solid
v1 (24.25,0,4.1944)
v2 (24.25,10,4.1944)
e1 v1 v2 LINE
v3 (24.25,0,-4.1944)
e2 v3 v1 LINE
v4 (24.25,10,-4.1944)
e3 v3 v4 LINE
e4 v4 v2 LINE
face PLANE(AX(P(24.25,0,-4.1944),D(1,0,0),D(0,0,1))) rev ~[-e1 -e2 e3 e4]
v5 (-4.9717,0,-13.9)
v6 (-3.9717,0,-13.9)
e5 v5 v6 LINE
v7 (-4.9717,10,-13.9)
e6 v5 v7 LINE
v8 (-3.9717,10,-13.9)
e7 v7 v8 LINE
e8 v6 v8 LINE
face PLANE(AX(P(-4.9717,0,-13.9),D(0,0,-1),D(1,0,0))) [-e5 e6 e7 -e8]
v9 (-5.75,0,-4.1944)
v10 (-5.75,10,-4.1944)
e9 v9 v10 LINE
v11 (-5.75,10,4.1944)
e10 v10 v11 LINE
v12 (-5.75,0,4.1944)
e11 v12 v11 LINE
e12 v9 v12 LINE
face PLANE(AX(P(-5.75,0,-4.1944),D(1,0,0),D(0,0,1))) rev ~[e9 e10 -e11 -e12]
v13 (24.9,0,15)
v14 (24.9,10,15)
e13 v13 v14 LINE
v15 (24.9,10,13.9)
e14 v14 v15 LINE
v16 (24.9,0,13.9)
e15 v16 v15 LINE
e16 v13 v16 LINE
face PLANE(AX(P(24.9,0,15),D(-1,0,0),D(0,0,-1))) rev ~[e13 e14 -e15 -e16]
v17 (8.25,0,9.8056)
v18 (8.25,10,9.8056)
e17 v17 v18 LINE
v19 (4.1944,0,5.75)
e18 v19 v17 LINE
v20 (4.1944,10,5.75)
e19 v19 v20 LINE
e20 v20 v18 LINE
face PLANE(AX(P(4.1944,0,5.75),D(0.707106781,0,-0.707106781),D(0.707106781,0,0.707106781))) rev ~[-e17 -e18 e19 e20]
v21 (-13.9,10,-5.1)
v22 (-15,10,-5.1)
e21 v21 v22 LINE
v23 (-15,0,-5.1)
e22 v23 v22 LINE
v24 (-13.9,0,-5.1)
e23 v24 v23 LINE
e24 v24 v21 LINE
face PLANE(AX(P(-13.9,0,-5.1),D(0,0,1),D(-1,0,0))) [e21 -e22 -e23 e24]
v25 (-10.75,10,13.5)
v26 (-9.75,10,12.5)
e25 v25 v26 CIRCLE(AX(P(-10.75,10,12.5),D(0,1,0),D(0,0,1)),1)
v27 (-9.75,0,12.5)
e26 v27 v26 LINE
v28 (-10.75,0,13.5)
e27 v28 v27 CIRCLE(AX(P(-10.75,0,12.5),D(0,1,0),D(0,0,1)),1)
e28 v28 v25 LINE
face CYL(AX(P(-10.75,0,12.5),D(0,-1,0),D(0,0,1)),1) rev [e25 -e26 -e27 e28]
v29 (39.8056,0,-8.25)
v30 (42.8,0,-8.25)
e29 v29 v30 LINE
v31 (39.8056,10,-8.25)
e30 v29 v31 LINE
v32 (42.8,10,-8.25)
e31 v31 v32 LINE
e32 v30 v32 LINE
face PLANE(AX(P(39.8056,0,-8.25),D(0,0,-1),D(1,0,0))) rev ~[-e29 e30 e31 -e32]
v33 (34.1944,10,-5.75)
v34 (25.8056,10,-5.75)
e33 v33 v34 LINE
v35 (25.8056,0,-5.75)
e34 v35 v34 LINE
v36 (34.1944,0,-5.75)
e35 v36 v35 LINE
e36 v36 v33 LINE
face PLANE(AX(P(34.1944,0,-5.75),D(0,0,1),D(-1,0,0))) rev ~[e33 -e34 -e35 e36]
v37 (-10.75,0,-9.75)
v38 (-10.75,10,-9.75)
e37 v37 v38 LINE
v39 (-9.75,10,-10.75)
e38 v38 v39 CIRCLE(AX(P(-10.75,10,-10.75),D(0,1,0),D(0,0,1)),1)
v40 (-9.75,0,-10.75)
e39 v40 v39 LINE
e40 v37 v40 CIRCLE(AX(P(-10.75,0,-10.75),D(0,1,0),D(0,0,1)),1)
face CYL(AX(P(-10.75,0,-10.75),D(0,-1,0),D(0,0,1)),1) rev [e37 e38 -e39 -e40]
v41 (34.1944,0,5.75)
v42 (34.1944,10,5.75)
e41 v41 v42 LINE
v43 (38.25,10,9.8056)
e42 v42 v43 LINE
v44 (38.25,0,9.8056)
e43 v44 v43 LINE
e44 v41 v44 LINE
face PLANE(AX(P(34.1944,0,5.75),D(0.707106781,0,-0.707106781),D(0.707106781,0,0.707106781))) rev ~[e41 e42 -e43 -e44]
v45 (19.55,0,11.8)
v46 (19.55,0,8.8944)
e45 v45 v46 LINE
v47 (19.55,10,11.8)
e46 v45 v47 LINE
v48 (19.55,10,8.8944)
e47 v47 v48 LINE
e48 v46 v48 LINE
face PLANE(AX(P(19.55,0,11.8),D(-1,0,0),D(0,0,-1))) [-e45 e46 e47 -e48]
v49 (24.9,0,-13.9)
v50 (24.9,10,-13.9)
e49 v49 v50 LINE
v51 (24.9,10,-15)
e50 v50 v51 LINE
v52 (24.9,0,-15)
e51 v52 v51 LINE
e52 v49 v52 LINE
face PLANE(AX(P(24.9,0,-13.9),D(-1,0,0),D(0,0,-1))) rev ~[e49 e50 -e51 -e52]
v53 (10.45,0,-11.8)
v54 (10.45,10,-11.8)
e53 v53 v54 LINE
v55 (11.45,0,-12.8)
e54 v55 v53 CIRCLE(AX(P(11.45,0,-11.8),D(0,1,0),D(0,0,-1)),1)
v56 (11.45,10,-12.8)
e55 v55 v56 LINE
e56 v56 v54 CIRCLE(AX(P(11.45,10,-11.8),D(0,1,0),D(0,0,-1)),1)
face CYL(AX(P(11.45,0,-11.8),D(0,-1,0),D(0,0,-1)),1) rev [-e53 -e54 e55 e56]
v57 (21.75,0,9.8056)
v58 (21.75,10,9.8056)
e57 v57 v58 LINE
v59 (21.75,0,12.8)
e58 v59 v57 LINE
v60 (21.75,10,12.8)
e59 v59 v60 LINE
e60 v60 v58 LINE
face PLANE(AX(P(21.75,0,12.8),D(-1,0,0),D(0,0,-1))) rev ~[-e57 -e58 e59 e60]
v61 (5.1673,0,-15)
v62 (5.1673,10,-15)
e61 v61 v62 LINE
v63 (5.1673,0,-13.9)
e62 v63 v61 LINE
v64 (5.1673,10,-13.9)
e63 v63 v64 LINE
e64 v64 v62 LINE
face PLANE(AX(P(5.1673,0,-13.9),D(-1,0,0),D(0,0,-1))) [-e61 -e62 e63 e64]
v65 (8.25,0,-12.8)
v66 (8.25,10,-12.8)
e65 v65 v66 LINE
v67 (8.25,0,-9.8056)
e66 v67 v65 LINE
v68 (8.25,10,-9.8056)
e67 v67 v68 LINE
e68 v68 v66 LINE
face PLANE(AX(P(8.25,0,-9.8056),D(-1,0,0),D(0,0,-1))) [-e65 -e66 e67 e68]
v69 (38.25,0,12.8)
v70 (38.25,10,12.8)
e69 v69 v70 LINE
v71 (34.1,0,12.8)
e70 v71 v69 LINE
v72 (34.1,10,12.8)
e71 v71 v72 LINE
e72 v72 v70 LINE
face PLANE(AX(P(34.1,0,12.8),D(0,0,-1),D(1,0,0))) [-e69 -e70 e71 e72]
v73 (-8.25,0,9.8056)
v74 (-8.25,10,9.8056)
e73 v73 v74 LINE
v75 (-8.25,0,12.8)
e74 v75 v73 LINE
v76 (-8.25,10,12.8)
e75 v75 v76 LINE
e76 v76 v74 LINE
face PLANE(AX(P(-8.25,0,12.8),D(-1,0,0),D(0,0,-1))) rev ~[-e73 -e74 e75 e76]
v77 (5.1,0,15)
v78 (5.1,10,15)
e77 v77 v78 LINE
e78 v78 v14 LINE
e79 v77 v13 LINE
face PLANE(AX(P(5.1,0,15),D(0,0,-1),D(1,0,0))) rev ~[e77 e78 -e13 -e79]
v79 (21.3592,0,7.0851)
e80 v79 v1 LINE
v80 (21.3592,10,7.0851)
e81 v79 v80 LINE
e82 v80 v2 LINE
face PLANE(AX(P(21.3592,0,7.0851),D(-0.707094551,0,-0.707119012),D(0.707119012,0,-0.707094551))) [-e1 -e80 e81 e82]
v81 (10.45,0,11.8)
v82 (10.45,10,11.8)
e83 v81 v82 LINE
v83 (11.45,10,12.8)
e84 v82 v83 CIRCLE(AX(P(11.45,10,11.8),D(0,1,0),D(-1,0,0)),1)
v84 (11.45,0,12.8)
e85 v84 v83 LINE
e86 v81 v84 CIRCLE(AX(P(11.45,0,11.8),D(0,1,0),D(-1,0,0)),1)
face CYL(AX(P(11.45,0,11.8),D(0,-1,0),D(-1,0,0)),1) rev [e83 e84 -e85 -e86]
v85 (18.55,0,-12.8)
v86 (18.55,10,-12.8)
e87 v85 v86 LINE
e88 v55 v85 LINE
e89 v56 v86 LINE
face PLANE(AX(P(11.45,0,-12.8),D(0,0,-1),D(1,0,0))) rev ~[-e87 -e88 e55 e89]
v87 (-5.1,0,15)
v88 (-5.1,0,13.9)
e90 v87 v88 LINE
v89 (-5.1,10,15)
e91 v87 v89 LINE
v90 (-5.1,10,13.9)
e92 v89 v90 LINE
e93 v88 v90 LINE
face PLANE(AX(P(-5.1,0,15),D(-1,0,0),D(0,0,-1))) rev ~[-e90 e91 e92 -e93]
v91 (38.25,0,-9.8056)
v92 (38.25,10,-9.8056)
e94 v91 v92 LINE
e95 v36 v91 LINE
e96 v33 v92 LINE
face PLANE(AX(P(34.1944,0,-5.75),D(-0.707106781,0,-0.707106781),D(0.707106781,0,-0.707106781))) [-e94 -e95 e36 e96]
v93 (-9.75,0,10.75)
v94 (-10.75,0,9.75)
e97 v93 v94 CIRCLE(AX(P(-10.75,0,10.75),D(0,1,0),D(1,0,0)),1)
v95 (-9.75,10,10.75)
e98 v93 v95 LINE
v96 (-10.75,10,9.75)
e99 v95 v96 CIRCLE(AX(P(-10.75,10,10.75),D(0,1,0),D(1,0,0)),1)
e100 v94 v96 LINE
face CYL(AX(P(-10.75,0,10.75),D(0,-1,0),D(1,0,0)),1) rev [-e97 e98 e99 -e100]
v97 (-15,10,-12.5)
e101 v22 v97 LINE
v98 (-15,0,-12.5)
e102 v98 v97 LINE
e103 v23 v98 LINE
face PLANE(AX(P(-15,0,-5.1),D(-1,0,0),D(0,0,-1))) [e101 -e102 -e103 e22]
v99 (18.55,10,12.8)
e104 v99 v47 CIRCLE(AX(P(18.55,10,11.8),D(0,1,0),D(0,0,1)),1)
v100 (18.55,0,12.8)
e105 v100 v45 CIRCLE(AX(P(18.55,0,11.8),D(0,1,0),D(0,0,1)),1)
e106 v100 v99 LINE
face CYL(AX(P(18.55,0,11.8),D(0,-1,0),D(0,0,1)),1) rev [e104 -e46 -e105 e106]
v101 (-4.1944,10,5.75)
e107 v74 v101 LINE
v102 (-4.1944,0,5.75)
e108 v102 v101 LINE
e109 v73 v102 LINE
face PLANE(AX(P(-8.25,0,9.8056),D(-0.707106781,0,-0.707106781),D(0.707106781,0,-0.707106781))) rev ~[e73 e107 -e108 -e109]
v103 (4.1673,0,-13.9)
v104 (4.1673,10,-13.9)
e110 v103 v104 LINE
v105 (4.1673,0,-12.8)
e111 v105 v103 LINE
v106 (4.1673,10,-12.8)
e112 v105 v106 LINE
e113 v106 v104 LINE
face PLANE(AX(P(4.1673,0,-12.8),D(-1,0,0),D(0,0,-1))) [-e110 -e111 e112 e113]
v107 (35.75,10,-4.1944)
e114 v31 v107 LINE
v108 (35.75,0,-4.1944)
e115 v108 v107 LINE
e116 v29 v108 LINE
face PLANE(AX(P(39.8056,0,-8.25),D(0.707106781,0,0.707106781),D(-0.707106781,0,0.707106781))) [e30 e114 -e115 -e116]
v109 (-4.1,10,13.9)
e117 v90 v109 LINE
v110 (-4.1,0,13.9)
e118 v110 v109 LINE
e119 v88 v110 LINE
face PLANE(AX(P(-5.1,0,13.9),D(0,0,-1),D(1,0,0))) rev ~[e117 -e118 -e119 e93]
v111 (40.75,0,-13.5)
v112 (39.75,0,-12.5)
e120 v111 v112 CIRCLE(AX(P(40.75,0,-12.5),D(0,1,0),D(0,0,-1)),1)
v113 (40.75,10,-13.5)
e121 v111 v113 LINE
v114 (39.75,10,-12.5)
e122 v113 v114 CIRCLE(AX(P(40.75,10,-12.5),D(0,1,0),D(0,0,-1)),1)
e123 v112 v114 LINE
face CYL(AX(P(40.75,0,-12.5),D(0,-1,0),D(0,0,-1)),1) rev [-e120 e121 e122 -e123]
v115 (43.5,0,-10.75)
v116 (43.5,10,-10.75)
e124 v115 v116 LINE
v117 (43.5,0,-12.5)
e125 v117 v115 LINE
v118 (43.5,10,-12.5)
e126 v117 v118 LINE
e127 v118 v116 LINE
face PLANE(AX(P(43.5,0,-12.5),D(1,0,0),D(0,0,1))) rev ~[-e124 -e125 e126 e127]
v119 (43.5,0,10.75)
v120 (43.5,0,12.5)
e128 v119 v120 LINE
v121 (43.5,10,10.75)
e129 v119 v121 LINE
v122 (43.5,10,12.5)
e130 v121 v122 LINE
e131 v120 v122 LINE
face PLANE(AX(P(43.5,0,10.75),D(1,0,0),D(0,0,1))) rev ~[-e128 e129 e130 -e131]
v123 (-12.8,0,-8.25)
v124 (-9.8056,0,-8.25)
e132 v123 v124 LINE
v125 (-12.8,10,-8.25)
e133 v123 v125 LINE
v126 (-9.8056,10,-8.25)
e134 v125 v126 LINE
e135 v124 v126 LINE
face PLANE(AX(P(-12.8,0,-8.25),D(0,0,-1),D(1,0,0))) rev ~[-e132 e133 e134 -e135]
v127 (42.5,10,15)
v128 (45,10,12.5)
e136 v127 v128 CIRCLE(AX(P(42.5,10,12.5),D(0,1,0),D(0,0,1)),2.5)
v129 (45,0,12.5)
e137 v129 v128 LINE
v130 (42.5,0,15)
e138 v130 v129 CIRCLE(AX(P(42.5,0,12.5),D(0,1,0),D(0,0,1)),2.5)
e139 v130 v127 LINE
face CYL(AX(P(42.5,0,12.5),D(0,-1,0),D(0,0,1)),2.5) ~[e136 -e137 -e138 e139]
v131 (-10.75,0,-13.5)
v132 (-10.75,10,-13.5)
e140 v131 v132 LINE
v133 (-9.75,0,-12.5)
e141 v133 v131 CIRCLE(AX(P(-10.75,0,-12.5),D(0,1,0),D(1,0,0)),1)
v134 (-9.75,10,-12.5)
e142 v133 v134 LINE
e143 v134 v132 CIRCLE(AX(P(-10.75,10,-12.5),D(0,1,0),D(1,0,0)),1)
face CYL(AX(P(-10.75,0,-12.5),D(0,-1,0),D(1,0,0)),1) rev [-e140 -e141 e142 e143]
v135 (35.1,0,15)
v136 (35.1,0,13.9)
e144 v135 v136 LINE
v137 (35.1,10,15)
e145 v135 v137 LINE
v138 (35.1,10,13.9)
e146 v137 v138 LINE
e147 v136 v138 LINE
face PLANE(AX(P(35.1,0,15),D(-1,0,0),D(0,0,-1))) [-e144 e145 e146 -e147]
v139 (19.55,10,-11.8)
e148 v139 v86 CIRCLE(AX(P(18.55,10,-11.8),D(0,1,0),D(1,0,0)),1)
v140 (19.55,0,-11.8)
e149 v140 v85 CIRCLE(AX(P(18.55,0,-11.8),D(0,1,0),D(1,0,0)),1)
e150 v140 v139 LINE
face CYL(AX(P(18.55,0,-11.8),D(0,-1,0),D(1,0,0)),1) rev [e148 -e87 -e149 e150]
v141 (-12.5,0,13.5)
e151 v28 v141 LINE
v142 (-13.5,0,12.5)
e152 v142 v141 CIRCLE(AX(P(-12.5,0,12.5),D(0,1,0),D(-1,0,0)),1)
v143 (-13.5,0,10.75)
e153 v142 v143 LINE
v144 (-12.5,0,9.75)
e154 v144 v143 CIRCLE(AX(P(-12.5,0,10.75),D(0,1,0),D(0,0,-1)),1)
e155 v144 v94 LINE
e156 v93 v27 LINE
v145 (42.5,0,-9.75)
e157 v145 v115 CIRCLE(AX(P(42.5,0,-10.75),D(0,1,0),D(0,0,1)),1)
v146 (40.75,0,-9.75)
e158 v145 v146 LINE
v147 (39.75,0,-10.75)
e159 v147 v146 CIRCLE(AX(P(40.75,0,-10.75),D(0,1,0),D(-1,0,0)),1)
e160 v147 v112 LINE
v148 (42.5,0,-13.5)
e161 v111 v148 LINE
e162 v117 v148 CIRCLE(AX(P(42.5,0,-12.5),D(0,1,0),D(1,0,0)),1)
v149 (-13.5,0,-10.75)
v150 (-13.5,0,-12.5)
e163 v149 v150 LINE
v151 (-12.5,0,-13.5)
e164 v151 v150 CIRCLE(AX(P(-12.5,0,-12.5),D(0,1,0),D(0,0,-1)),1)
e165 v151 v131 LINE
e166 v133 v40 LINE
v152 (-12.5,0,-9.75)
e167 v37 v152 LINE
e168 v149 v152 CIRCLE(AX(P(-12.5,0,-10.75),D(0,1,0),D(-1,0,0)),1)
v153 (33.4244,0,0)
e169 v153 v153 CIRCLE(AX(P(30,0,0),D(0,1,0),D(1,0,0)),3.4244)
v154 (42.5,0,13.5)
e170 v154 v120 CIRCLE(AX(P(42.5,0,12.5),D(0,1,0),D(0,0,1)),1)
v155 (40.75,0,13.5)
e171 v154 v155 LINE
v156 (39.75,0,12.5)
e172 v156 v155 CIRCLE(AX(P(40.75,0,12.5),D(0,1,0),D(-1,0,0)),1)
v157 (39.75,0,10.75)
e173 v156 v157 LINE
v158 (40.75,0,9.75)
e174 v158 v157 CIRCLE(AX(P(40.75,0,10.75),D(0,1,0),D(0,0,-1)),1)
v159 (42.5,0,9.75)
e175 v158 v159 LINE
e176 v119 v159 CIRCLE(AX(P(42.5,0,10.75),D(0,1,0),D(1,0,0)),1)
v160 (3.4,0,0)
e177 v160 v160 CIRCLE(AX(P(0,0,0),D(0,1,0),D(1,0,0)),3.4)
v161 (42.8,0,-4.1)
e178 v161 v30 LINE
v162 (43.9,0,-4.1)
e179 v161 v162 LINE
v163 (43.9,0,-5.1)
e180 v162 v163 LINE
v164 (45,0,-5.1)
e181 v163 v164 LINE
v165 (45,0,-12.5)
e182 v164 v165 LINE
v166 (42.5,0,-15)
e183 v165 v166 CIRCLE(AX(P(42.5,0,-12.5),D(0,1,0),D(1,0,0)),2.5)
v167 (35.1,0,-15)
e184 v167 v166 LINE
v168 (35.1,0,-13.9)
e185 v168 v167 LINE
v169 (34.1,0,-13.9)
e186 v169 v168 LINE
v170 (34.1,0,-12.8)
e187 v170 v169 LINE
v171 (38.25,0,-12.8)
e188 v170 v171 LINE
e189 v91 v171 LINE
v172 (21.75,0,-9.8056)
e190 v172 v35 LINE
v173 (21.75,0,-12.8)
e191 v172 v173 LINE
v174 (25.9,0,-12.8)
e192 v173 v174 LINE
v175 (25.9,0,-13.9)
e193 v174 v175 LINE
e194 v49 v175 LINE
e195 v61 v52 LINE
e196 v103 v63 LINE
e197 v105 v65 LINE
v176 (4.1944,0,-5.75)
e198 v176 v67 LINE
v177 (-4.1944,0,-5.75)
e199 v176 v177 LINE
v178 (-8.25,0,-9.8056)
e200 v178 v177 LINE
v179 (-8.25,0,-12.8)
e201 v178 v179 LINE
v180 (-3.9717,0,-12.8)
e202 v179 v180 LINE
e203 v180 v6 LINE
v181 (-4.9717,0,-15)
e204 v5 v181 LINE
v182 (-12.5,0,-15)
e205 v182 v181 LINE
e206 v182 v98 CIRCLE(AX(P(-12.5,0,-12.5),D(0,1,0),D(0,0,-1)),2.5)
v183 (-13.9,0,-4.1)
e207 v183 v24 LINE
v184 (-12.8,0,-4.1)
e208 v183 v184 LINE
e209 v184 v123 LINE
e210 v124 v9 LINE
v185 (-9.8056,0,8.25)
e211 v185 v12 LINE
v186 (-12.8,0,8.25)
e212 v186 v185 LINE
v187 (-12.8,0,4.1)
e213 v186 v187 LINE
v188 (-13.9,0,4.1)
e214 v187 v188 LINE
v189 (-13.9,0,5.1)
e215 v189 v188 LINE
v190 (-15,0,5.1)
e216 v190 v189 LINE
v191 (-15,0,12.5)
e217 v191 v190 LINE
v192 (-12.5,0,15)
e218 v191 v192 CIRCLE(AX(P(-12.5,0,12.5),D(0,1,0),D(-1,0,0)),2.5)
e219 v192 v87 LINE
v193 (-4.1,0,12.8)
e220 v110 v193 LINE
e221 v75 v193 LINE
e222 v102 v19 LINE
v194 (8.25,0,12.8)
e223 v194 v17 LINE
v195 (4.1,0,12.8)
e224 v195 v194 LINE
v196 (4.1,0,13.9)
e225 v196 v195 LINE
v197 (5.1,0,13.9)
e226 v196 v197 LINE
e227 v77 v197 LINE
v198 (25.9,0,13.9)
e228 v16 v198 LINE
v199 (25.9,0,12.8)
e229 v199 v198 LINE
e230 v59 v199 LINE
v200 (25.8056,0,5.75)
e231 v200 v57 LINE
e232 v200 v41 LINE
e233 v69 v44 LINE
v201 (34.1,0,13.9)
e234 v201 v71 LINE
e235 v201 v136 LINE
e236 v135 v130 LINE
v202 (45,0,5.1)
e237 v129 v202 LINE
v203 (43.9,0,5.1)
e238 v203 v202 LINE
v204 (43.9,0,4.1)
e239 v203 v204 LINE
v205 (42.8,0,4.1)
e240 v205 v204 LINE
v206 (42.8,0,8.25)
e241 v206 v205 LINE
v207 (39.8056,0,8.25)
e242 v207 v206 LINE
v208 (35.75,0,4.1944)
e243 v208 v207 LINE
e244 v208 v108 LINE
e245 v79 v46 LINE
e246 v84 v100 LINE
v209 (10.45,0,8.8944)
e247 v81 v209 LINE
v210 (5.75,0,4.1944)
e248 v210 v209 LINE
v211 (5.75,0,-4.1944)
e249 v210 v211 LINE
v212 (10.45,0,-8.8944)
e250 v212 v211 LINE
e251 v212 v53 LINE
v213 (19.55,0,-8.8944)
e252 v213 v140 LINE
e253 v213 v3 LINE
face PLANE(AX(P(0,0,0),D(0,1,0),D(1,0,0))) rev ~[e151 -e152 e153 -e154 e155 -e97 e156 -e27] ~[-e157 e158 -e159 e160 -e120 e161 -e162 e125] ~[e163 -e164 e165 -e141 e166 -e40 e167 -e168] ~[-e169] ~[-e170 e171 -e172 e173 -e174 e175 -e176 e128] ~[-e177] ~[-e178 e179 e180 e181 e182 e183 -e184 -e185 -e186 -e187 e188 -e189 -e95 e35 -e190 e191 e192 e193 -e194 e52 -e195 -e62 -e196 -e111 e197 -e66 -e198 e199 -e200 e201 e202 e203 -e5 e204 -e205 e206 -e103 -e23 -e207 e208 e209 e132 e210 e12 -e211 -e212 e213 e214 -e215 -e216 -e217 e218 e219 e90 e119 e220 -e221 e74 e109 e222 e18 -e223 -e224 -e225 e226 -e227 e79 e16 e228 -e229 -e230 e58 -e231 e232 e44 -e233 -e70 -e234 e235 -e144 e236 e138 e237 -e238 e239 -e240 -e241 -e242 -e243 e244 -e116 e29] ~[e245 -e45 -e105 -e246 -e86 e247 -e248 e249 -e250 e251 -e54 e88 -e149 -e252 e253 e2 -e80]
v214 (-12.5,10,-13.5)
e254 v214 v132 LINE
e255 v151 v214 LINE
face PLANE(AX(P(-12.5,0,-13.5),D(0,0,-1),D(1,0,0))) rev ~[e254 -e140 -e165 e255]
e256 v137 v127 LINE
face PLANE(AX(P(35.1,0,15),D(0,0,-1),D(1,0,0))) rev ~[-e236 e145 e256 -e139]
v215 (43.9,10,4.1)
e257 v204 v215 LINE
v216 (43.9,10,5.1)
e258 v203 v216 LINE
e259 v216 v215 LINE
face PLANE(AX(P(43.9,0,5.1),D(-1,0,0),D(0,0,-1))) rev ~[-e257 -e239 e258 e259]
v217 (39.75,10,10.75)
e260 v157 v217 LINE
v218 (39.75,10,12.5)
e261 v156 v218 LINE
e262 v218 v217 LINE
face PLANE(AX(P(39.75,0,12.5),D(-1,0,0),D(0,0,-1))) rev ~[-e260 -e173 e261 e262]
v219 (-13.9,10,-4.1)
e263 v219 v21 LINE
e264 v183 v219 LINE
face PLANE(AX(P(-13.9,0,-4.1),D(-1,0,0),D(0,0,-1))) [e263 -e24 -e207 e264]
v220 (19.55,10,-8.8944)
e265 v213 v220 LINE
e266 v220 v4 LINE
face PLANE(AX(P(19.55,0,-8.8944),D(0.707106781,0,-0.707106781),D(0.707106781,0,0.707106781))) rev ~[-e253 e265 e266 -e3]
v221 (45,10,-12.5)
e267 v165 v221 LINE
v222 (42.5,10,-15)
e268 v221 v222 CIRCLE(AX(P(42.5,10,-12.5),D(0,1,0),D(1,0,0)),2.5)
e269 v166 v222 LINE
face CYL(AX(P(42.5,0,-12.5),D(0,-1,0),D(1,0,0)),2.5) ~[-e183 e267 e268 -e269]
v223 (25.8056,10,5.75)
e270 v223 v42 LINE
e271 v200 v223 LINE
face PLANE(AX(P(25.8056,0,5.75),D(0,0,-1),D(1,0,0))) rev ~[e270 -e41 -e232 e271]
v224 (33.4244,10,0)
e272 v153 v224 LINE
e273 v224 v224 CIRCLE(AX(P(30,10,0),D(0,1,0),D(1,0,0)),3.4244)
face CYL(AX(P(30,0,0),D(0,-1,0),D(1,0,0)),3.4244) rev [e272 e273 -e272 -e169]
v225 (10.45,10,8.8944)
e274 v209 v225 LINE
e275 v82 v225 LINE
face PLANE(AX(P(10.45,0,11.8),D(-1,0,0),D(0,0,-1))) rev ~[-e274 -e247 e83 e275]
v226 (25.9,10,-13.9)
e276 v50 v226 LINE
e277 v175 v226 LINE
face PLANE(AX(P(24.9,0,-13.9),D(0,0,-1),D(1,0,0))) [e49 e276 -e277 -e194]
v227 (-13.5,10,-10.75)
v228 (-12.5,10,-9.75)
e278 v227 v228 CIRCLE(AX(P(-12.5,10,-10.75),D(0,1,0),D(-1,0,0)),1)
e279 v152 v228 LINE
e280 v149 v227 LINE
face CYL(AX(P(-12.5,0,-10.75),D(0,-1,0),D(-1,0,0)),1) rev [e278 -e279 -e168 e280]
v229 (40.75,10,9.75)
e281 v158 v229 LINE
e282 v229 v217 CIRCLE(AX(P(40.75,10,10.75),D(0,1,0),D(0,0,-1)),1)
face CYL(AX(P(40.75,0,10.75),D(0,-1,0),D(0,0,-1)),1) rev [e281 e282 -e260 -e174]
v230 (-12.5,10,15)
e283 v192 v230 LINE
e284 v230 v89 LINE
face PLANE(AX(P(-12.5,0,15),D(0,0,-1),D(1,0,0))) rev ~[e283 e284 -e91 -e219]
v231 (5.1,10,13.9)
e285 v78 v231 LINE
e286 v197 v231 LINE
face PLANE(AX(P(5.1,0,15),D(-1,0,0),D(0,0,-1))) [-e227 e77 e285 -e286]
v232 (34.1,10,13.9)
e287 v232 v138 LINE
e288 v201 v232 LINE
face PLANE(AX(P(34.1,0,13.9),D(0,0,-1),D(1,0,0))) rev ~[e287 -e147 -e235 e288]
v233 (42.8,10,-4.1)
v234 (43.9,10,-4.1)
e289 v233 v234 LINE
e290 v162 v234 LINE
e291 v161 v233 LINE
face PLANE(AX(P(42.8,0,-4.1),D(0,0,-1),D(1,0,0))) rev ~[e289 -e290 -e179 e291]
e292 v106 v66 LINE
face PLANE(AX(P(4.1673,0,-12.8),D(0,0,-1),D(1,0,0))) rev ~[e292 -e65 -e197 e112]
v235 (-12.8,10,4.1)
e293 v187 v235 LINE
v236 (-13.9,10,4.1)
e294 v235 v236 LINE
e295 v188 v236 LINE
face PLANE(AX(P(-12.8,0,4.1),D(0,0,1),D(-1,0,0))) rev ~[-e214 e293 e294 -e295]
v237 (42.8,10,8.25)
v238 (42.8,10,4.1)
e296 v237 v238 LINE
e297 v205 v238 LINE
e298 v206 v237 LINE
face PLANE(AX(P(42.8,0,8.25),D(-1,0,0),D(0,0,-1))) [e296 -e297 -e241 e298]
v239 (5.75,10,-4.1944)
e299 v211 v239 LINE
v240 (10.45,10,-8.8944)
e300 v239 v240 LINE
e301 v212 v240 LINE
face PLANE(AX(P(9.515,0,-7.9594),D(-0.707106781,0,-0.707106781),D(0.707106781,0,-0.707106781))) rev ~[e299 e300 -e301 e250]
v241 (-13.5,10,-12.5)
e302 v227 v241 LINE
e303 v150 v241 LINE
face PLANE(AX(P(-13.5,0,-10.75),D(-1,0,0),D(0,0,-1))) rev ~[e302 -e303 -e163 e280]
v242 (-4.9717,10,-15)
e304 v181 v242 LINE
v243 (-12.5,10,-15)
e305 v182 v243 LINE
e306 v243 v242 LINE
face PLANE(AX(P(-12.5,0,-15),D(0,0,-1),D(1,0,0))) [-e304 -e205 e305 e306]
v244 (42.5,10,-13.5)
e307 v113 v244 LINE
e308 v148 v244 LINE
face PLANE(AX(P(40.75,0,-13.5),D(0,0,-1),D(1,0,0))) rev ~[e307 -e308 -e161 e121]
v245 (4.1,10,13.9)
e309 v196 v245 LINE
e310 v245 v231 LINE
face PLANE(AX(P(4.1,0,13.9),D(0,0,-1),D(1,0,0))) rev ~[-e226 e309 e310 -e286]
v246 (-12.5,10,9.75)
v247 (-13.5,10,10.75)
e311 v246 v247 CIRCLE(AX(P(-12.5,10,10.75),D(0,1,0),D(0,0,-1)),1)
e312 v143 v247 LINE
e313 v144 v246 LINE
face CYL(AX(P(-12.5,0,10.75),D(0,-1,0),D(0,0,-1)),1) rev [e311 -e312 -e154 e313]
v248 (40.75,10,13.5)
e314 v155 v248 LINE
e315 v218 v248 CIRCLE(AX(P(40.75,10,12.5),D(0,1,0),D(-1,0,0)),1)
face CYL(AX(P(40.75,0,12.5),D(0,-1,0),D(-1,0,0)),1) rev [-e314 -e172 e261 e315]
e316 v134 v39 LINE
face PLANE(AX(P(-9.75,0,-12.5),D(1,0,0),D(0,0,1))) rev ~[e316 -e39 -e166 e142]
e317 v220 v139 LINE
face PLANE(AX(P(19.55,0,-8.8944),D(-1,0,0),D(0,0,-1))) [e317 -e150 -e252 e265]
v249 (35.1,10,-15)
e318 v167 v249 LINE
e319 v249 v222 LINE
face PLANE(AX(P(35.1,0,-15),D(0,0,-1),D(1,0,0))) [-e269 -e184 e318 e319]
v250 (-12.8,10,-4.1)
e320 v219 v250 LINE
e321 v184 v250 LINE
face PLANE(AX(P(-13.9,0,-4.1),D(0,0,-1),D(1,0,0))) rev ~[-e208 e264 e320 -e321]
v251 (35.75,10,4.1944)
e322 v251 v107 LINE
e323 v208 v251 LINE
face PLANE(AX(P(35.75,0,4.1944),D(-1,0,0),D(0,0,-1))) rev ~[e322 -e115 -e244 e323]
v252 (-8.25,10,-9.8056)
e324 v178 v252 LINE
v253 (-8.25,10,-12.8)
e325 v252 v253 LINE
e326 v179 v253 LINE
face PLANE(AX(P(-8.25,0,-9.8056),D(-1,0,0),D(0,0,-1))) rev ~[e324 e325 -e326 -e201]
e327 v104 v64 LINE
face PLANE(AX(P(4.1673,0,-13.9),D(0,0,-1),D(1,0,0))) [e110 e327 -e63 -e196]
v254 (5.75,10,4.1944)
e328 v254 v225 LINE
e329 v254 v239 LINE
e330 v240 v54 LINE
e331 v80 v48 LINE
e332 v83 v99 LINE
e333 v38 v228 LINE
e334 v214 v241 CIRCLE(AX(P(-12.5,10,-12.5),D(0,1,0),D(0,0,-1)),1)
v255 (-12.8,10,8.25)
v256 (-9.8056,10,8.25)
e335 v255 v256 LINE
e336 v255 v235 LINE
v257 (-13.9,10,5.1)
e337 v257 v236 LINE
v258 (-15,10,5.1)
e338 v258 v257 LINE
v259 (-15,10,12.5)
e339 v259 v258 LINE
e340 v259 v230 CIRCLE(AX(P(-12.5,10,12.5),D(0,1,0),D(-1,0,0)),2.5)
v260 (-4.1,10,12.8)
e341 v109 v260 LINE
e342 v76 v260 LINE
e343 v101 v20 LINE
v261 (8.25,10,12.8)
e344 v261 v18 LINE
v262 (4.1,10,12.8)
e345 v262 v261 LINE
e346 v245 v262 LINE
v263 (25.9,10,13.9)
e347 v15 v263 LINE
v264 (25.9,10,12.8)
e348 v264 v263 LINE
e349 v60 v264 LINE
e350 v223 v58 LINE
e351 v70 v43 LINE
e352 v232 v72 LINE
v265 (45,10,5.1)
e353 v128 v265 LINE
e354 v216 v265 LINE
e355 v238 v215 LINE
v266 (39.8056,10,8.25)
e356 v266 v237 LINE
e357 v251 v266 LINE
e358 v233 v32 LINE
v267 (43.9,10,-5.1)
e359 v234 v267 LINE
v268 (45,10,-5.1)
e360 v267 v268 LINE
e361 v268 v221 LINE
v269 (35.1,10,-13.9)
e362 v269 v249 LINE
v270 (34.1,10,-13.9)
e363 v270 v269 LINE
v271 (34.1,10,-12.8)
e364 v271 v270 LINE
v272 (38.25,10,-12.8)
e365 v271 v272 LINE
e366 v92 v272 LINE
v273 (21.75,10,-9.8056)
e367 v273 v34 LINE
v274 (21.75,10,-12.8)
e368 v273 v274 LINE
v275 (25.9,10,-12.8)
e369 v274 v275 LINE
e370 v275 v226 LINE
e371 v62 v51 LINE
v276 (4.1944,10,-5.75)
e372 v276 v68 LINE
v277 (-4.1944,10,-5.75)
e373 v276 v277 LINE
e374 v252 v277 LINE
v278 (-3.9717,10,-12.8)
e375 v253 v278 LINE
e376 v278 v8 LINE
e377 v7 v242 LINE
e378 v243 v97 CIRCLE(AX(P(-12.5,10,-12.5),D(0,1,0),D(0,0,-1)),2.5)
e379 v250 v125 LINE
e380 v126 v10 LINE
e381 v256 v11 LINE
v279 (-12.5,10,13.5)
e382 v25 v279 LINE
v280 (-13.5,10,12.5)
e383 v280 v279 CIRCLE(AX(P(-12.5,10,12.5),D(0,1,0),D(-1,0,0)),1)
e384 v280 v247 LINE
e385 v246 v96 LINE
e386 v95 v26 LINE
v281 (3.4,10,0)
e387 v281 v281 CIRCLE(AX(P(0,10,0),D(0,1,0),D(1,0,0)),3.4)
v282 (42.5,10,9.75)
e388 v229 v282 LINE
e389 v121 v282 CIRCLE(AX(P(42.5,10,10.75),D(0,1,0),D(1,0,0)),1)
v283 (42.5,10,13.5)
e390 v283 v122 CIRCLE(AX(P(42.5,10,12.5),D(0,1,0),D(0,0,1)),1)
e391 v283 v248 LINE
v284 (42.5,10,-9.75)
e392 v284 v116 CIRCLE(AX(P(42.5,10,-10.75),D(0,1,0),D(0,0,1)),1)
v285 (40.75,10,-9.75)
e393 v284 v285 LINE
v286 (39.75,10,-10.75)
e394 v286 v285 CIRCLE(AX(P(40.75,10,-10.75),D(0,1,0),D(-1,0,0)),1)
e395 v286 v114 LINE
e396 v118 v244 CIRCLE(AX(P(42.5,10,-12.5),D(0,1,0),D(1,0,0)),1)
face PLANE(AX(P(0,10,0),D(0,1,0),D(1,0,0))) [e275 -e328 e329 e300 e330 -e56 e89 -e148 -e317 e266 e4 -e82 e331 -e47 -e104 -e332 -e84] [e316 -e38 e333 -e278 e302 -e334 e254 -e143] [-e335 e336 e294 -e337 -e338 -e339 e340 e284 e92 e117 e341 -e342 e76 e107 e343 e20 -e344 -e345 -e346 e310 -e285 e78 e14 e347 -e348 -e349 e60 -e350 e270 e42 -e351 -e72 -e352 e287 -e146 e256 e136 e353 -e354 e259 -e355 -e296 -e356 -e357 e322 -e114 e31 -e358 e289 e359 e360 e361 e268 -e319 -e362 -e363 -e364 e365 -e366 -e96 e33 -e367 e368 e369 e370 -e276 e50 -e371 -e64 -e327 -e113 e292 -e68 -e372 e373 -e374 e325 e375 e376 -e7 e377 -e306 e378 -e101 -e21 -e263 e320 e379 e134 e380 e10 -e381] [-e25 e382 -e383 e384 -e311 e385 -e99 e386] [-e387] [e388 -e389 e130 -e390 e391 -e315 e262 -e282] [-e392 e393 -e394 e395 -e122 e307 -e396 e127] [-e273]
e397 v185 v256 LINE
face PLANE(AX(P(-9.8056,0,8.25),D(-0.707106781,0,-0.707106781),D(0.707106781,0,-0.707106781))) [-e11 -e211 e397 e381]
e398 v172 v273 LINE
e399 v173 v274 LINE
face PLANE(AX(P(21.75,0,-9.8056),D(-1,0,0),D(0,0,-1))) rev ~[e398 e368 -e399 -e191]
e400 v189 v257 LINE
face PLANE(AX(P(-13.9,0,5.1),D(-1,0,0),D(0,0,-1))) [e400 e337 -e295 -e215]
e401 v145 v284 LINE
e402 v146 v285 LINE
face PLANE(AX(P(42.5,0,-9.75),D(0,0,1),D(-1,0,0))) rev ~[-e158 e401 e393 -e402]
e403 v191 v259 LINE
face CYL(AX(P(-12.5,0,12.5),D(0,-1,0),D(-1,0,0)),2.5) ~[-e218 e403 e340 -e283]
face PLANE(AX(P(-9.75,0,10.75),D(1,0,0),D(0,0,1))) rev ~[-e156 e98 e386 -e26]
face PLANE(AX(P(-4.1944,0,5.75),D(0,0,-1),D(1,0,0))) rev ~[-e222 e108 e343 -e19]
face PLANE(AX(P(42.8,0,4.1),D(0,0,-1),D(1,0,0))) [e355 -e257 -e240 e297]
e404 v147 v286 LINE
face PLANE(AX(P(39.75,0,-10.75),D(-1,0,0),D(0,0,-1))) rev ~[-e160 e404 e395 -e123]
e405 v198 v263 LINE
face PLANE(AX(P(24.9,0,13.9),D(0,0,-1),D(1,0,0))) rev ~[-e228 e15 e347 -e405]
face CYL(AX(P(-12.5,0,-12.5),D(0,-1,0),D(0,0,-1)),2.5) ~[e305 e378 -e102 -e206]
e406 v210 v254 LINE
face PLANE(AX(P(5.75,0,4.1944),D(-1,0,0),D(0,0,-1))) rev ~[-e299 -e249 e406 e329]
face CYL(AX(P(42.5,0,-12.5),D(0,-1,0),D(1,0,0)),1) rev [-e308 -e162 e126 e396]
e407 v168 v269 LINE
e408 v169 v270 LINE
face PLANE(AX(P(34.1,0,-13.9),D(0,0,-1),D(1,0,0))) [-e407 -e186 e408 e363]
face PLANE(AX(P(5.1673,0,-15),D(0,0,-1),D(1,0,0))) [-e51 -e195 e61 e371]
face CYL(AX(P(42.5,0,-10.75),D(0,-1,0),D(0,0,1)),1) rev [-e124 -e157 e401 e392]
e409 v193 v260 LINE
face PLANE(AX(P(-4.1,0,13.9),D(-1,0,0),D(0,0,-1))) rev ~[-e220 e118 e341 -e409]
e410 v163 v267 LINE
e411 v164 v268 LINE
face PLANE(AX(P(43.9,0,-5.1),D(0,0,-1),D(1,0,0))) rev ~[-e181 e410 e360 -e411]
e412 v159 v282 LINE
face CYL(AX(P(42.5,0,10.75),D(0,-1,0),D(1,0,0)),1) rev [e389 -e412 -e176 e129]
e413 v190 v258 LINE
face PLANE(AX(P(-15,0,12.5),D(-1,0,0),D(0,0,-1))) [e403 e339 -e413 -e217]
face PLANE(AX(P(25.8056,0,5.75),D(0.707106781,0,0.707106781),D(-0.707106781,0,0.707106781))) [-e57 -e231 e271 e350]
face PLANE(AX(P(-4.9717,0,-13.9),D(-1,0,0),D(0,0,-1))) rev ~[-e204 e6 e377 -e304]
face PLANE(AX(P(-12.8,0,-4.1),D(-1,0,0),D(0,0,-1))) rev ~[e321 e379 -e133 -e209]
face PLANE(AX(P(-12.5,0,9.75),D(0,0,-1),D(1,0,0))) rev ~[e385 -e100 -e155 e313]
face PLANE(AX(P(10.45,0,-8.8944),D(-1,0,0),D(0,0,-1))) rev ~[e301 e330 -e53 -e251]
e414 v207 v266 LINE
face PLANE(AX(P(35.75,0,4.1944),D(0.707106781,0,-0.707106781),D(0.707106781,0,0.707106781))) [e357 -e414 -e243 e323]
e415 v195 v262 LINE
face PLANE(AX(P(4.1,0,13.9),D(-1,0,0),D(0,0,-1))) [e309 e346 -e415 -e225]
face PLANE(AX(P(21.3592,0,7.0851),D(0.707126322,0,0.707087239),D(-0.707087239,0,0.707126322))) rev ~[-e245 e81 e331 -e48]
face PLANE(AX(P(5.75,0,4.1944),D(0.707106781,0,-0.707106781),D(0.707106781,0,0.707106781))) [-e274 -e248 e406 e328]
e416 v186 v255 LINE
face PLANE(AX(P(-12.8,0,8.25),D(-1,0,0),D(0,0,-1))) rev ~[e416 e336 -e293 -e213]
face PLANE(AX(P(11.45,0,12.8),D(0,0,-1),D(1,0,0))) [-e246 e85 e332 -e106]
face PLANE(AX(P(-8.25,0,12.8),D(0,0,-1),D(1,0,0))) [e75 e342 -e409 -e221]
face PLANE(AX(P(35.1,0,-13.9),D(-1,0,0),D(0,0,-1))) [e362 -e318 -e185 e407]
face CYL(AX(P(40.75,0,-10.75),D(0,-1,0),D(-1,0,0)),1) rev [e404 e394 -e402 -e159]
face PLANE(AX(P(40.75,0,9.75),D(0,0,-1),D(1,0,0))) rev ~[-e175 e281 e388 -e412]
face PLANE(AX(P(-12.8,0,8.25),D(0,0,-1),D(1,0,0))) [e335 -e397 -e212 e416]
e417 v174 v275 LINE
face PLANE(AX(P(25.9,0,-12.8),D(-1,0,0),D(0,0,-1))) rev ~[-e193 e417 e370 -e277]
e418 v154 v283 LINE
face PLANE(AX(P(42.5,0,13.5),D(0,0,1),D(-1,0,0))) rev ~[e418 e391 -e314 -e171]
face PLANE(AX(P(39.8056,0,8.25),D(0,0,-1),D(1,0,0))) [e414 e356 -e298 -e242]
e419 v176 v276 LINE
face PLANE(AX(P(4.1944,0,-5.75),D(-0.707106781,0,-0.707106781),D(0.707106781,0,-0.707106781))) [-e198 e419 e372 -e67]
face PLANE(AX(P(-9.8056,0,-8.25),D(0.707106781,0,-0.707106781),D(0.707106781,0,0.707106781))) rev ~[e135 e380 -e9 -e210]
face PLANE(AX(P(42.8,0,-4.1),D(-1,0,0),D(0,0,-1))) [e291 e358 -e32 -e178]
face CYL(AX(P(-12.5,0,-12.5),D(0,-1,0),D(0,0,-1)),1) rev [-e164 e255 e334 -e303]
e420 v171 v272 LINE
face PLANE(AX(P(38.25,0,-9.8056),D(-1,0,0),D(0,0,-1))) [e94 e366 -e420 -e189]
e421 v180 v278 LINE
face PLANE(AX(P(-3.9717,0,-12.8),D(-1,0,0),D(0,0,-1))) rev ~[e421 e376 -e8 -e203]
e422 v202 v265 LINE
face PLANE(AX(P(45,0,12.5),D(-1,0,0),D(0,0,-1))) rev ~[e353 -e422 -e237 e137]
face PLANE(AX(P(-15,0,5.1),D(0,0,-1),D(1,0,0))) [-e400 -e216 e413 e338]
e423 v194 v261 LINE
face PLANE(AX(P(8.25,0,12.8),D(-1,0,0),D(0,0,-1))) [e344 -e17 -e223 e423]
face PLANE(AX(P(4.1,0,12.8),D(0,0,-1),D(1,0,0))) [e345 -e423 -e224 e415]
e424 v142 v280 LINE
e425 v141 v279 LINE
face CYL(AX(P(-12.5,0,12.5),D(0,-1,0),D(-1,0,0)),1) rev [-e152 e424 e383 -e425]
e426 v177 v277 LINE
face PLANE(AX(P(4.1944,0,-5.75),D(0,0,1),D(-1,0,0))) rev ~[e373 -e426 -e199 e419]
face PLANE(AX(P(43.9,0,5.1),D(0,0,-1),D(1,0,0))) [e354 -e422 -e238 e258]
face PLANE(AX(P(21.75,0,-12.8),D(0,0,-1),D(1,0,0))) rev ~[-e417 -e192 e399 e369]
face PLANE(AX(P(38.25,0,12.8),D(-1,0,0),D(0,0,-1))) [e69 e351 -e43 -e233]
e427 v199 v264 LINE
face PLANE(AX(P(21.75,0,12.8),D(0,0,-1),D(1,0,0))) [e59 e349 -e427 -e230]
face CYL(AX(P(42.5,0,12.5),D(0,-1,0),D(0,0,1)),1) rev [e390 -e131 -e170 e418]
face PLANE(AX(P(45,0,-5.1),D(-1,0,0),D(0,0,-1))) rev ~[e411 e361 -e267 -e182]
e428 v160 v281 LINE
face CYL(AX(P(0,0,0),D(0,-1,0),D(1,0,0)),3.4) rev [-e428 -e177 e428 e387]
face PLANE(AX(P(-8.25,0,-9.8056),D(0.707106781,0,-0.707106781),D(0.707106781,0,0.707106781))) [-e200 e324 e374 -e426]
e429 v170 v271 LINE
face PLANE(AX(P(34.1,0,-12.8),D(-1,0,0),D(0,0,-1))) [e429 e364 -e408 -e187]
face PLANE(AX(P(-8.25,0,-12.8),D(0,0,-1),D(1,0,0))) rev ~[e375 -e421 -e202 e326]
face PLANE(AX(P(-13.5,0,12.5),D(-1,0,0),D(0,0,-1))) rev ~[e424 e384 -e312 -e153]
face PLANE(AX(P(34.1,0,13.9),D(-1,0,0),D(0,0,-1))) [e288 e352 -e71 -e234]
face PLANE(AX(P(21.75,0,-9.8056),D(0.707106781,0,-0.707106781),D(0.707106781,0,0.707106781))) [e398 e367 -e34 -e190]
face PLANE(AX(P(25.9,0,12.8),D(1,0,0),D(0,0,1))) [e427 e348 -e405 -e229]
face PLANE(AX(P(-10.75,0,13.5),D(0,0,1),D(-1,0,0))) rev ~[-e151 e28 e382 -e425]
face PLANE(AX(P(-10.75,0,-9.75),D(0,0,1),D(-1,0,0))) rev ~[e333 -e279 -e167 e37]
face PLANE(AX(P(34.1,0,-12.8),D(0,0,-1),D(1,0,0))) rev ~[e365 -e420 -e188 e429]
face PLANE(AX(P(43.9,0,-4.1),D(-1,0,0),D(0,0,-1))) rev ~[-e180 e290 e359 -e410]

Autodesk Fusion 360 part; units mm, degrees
sketch "Sketch1" plane through (0, 0, 0) normal (0, 1, 0) x (1, 0, 0)
  circle A0 centre (0, 0) radius 3.4
  circle A1 centre (30, 0) radius 3.4244
  line L0 (-12.8, 8.25) -> (-9.8056, 8.25)
  line L1 (-12.8, -8.25) -> (-9.8056, -8.25)
  line L2 (39.8056, -8.25) -> (42.8, -8.25)
  line L3 (39.8056, 8.25) -> (42.8, 8.25)
  line L4 (38.25, -12.8) -> (38.25, -9.8056)
  line L5 (38.25, 9.8056) -> (38.25, 12.8)
  line L6 (-8.25, -12.8) -> (-8.25, -9.8056)
  line L7 (-8.25, 9.8056) -> (-8.25, 12.8)
  line L8 (4.1944, 5.75) -> (-4.1944, 5.75)
  line L9 (-5.75, 4.1944) -> (-5.75, -4.1944)
  line L10 (-4.1944, -5.75) -> (4.1944, -5.75)
  line L11 (5.75, -4.1944) -> (5.75, 4.1944)
  line L12 (34.1944, 5.75) -> (25.8056, 5.75)
  line L13 (24.25, 4.1944) -> (24.25, -4.1944)
  line L14 (25.8056, -5.75) -> (34.1944, -5.75)
  line L15 (35.75, -4.1944) -> (35.75, 4.1944)
  line L16 (35.75, 5.75) -> (24.25, -5.75) construction
  line L17 (24.25, 5.75) -> (35.75, -5.75) construction
  line L18 (-8.25, -9.8056) -> (-4.1944, -5.75)
  line L19 (-9.8056, -8.25) -> (-5.75, -4.1944)
  line L20 (-9.8056, 8.25) -> (-5.75, 4.1944)
  line L21 (-8.25, 9.8056) -> (-4.1944, 5.75)
  line L22 (4.1944, 5.75) -> (8.25, 9.8056)
  line L23 (5.75, 4.1944) -> (9.515, 7.9594)
  line L24 (5.75, -4.1944) -> (10.45, -8.8944)
  line L25 (4.1944, -5.75) -> (8.25, -9.8056)
  line L26 (5.75, 5.75) -> (-0.7778, -0.7778) construction
  line L27 (-2.4042, -2.4042) -> (-5.75, -5.75) construction
  line L28 (-8.25, 8.25) -> (-2.4042, 2.4042) construction
  line L29 (0, 0) -> (15, -15) construction
  line L30 (15, 15) -> (5.75, 5.75) construction
  line L31 (2.4042, 2.4042) -> (-13.2071, -13.2071) construction
  line L32 (8.25, 9.8056) -> (8.25, 12.8)
  line L33 (8.25, -12.8) -> (8.25, -9.8056)
  line L34 (9.515, 7.9594) -> (10.45, 8.8944)
  line L35 (10.45, -11.8) -> (10.45, -8.8944)
  line L36 (10.45, 8.8944) -> (10.45, 11.8)
  line L37 (21.75, 9.8056) -> (21.75, 12.8)
  line L38 (21.3592, -7.0851) -> (19.55, -8.8944)
  line L39 (21.75, -12.8) -> (21.75, -9.8056)
  line L40 (15, -15) -> (24.25, -5.75) construction
  line L41 (27.5786, -2.4214) -> (38.25, 8.25) construction
  line L42 (21.3592, -7.0851) -> (24.25, -4.1944)
  line L43 (25.8056, -5.75) -> (21.75, -9.8056)
  line L44 (19.55, 8.8944) -> (24.25, 4.1944)
  line L45 (21.75, 9.8056) -> (25.8056, 5.75)
  line L46 (19.55, -11.8) -> (19.55, -8.8944)
  line L47 (19.55, 8.8944) -> (19.55, 11.8)
  line L48 (34.1944, 5.75) -> (38.25, 9.8056)
  line L49 (39.8056, 8.25) -> (35.75, 4.1944)
  line L50 (35.75, -4.1944) -> (39.8056, -8.25)
  line L51 (34.1944, -5.75) -> (38.25, -9.8056)
  line L52 (32.4214, -2.4214) -> (15, 15) construction
  line L53 (42.8, -4.1) -> (43.9, -4.1)
  line L54 (42.8, 4.1) -> (43.9, 4.1)
  line L55 (43.9, 5.1) -> (45, 5.1)
  line L56 (25.9, -12.8) -> (25.9, -13.9)
  line L57 (24.9, -15) -> (24.9, -13.9)
  line L58 (34.1, -13.9) -> (34.1, -12.8)
  line L59 (35.1, -15) -> (35.1, -13.9)
  line L60 (4.1, -13.9) -> (4.1, -12.8)
  line L61 (5.1, -15) -> (5.1, -13.9)
  line L62 (-4.1, -13.9) -> (-4.1, -12.8)
  line L63 (-5.1, -15) -> (-5.1, -13.9)
  line L64 (-12.8, -4.1) -> (-13.9, -4.1)
  line L65 (-15, -5.1) -> (-13.9, -5.1)
  line L66 (-13.9, 4.1) -> (-12.8, 4.1)
  line L67 (-13.9, 5.1) -> (-15, 5.1)
  line L68 (-3.9717, 12.8) -> (-3.9717, 13.9)
  line L69 (-4.9717, 13.9) -> (-4.9717, 15)
  line L70 (4.1673, 12.8) -> (4.1673, 13.9)
  line L71 (5.1673, 13.9) -> (5.1673, 15)
  line L72 (24.9, 13.9) -> (24.9, 15)
  line L73 (25.9, 12.8) -> (25.9, 13.9)
  line L74 (34.1, 12.8) -> (34.1, 13.9)
  line L75 (35.1, 13.9) -> (35.1, 15)
  line L76 (34.1, -12.8) -> (38.25, -12.8)
  line L77 (35.1, -15) -> (42.5, -15)
  line L78 (43.9, -5.1) -> (45, -5.1)
  line L79 (45, -12.5) -> (45, -5.1)
  line L80 (45, 5.1) -> (45, 12.5)
  line L81 (42.8, -8.25) -> (42.8, -4.1)
  line L82 (42.8, 4.1) -> (42.8, 8.25)
  line L83 (34.1, 12.8) -> (38.25, 12.8)
  line L84 (35.1, 15) -> (42.5, 15)
  line L85 (-12.5, 15) -> (-4.9717, 15)
  line L86 (5.1673, 15) -> (24.9, 15)
  line L87 (-8.25, 12.8) -> (-3.9717, 12.8)
  line L88 (-12.8, -8.25) -> (-12.8, -4.1)
  line L89 (-12.8, 4.1) -> (-12.8, 8.25)
  line L90 (-15, -12.5) -> (-15, -5.1)
  line L91 (-15, 5.1) -> (-15, 12.5)
  line L92 (-5.75, 5.75) -> (-2.4042, 2.4042) construction
  line L93 (0, 0) -> (2.4042, -2.4042) construction
  line L94 (-12.5, -15) -> (-5.1, -15)
  line L95 (5.1, -15) -> (24.9, -15)
  line L96 (-8.25, -12.8) -> (-4.1, -12.8)
  line L97 (4.1, -12.8) -> (8.25, -12.8)
  line L98 (11.45, -12.8) -> (18.55, -12.8)
  line L99 (21.75, -12.8) -> (25.9, -12.8)
  line L100 (21.75, 12.8) -> (25.9, 12.8)
  line L101 (4.1673, 12.8) -> (8.25, 12.8)
  line L102 (11.45, 12.8) -> (18.55, 12.8)
  line L103 (-13.9, -5.1) -> (-13.9, -4.1)
  line L104 (-13.9, 4.1) -> (-13.9, 5.1)
  line L105 (-5.1, -13.9) -> (-4.1, -13.9)
  line L106 (4.1, -13.9) -> (5.1, -13.9)
  line L107 (24.9, -13.9) -> (25.9, -13.9)
  line L108 (34.1, -13.9) -> (35.1, -13.9)
  line L109 (43.9, -5.1) -> (43.9, -4.1)
  line L110 (43.9, 4.1) -> (43.9, 5.1)
  line L111 (34.1, 13.9) -> (35.1, 13.9)
  line L112 (24.9, 13.9) -> (25.9, 13.9)
  line L113 (-4.9717, 13.9) -> (-3.9717, 13.9)
  line L114 (4.1673, 13.9) -> (5.1673, 13.9)
  line L115 (-12.5, -9.75) -> (-10.75, -9.75)
  line L116 (-9.75, -10.75) -> (-9.75, -12.5)
  line L117 (-10.75, -13.5) -> (-12.5, -13.5)
  line L118 (-13.5, -12.5) -> (-13.5, -10.75)
  arc A2 (-10.75, -13.5) -> (-9.75, -12.5) centre (-10.75, -12.5) ccw
  arc A3 (-13.5, -12.5) -> (-12.5, -13.5) centre (-12.5, -12.5) ccw
  arc A4 (-12.5, -9.75) -> (-13.5, -10.75) centre (-12.5, -10.75) ccw
  arc A5 (-9.75, -10.75) -> (-10.75, -9.75) centre (-10.75, -10.75) ccw
  arc A6 (-15, -12.5) -> (-12.5, -15) centre (-12.5, -12.5) ccw
  line L119 (-12.5, 13.5) -> (-10.75, 13.5)
  line L120 (-9.75, 12.5) -> (-9.75, 10.75)
  line L121 (-10.75, 9.75) -> (-12.5, 9.75)
  line L122 (-13.5, 10.75) -> (-13.5, 12.5)
  arc A7 (-10.75, 9.75) -> (-9.75, 10.75) centre (-10.75, 10.75) ccw
  arc A8 (-13.5, 10.75) -> (-12.5, 9.75) centre (-12.5, 10.75) ccw
  arc A9 (-12.5, 13.5) -> (-13.5, 12.5) centre (-12.5, 12.5) ccw
  arc A10 (-9.75, 12.5) -> (-10.75, 13.5) centre (-10.75, 12.5) ccw
  arc A11 (-12.5, 15) -> (-15, 12.5) centre (-12.5, 12.5) ccw
  line L123 (40.75, -9.75) -> (42.5, -9.75)
  line L124 (43.5, -10.75) -> (43.5, -12.5)
  line L125 (42.5, -13.5) -> (40.75, -13.5)
  line L126 (39.75, -12.5) -> (39.75, -10.75)
  arc A12 (42.5, -13.5) -> (43.5, -12.5) centre (42.5, -12.5) ccw
  arc A13 (39.75, -12.5) -> (40.75, -13.5) centre (40.75, -12.5) ccw
  arc A14 (40.75, -9.75) -> (39.75, -10.75) centre (40.75, -10.75) ccw
  arc A15 (43.5, -10.75) -> (42.5, -9.75) centre (42.5, -10.75) ccw
  arc A16 (42.5, -15) -> (45, -12.5) centre (42.5, -12.5) ccw
  line L127 (40.75, 13.5) -> (42.5, 13.5)
  line L128 (43.5, 12.5) -> (43.5, 10.75)
  line L129 (42.5, 9.75) -> (40.75, 9.75)
  line L130 (39.75, 10.75) -> (39.75, 12.5)
  arc A17 (42.5, 9.75) -> (43.5, 10.75) centre (42.5, 10.75) ccw
  arc A18 (43.5, 12.5) -> (42.5, 13.5) centre (42.5, 12.5) ccw
  arc A19 (40.75, 13.5) -> (39.75, 12.5) centre (40.75, 12.5) ccw
  arc A20 (39.75, 10.75) -> (40.75, 9.75) centre (40.75, 10.75) ccw
  arc A21 (45, 12.5) -> (42.5, 15) centre (42.5, 12.5) ccw
  arc A22 (10.45, -11.8) -> (11.45, -12.8) centre (11.45, -11.8) ccw
  arc A23 (18.55, -12.8) -> (19.55, -11.8) centre (18.55, -11.8) ccw
  arc A24 (19.55, 11.8) -> (18.55, 12.8) centre (18.55, 11.8) ccw
  arc A25 (11.45, 12.8) -> (10.45, 11.8) centre (11.45, 11.8) ccw
  point P0 (30, 0)
  point P1 (-13.5, -9.75)
  point P2 (-9.75, -13.5)
  point P3 (-13.5, -13.5)
  point P4 (-9.75, 13.5)
  point P5 (-9.75, 9.75)
  point P6 (-13.5, 9.75)
  point P7 (43.5, -9.75)
  point P8 (43.5, -13.5)
  point P9 (39.75, -13.5)
  point P10 (39.75, 13.5)
  point P11 (43.5, 9.75)
  point P12 (39.75, 9.75)
  dimension "d1" = 6.8
  dimension "d2" = 15
  dimension "d3" = 15
  dimension "d4" = 15
  dimension "d5" = 45
  dimension "d6" = 30
  dimension "d7" = 2.2
  dimension "d8" = 2.2
  dimension "d9" = 2.2
  dimension "d10" = 2.2
  dimension "d11" = 8.25
  dimension "d12" = 8.25
  dimension "d13" = 8.25
  dimension "d14" = 8.25
  dimension "d15" = 8.25
  dimension "d18" = 2.2
  dimension "d19" = 1.1
  dimension "d20" = 1.1
  dimension "d21" = 1.1
  dimension "d22" = 1.1
  dimension "d23" = 1.1
  dimension "d24" = 1.1
  dimension "d25" = 1.1
  dimension "d26" = 1.1
  dimension "d28" = 11.5
  dimension "d29" = 11.5
  dimension "d30" = 11.5
  dimension "d31" = 4.1
  dimension "d32" = 4.1
  dimension "d34" = 1
  dimension "d35" = 4.1
  dimension "d36" = 1
  dimension "d37" = 4.1
  dimension "d38" = 1
  dimension "d39" = 4.1
  dimension "d40" = 4.1
  dimension "d42" = 1
  dimension "d43" = 1
  dimension "d44" = 1
  dimension "d45" = 4.1
  dimension "d46" = 1
  dimension "d47" = 4.1
  dimension "d48" = 1
  dimension "d49" = 4.1
  dimension "d50" = 4.1
  dimension "d51" = 1
  dimension "d52" = 1
  dimension "d53" = 1.1
  dimension "d55" = 1.1
  dimension "d56" = 1.1
  dimension "d57" = 3.75
  dimension "d58" = 3.75
  dimension "d59" = 1.5
  dimension "d60" = 1.5
  dimension "d61" = 1
  dimension "d62" = 2.5
  dimension "d63" = 3.75
  dimension "d64" = 3.75
  dimension "d65" = 1.5
  dimension "d66" = 1.5
  dimension "d67" = 1
  dimension "d68" = 2.5
  dimension "d69" = 1
  dimension "d70" = 1
  dimension "d71" = 3.75
  dimension "d72" = 3.75
  dimension "d73" = 1.5
  dimension "d74" = 1.5
  dimension "d75" = 1
  dimension "d76" = 2.5
  dimension "d77" = 3.75
  dimension "d78" = 3.75
  dimension "d79" = 1.5
  dimension "d80" = 1.5
  dimension "d81" = 1
  dimension "d82" = 2.5
  dimension "d83" = 1
extrude "Extrude1" add sketch "Sketch1" along normal blind 500 in component "Component"
extrude "Extrude2" cut 1 faces at (-0.0847, 500, 4.9635) along direction (0, -1, 0) blind 490 in component "Component"
component "Component" placed x (1, 0, 0) y (0, 1, 0) z (0, 0, 1) at (0, 0, 0)
